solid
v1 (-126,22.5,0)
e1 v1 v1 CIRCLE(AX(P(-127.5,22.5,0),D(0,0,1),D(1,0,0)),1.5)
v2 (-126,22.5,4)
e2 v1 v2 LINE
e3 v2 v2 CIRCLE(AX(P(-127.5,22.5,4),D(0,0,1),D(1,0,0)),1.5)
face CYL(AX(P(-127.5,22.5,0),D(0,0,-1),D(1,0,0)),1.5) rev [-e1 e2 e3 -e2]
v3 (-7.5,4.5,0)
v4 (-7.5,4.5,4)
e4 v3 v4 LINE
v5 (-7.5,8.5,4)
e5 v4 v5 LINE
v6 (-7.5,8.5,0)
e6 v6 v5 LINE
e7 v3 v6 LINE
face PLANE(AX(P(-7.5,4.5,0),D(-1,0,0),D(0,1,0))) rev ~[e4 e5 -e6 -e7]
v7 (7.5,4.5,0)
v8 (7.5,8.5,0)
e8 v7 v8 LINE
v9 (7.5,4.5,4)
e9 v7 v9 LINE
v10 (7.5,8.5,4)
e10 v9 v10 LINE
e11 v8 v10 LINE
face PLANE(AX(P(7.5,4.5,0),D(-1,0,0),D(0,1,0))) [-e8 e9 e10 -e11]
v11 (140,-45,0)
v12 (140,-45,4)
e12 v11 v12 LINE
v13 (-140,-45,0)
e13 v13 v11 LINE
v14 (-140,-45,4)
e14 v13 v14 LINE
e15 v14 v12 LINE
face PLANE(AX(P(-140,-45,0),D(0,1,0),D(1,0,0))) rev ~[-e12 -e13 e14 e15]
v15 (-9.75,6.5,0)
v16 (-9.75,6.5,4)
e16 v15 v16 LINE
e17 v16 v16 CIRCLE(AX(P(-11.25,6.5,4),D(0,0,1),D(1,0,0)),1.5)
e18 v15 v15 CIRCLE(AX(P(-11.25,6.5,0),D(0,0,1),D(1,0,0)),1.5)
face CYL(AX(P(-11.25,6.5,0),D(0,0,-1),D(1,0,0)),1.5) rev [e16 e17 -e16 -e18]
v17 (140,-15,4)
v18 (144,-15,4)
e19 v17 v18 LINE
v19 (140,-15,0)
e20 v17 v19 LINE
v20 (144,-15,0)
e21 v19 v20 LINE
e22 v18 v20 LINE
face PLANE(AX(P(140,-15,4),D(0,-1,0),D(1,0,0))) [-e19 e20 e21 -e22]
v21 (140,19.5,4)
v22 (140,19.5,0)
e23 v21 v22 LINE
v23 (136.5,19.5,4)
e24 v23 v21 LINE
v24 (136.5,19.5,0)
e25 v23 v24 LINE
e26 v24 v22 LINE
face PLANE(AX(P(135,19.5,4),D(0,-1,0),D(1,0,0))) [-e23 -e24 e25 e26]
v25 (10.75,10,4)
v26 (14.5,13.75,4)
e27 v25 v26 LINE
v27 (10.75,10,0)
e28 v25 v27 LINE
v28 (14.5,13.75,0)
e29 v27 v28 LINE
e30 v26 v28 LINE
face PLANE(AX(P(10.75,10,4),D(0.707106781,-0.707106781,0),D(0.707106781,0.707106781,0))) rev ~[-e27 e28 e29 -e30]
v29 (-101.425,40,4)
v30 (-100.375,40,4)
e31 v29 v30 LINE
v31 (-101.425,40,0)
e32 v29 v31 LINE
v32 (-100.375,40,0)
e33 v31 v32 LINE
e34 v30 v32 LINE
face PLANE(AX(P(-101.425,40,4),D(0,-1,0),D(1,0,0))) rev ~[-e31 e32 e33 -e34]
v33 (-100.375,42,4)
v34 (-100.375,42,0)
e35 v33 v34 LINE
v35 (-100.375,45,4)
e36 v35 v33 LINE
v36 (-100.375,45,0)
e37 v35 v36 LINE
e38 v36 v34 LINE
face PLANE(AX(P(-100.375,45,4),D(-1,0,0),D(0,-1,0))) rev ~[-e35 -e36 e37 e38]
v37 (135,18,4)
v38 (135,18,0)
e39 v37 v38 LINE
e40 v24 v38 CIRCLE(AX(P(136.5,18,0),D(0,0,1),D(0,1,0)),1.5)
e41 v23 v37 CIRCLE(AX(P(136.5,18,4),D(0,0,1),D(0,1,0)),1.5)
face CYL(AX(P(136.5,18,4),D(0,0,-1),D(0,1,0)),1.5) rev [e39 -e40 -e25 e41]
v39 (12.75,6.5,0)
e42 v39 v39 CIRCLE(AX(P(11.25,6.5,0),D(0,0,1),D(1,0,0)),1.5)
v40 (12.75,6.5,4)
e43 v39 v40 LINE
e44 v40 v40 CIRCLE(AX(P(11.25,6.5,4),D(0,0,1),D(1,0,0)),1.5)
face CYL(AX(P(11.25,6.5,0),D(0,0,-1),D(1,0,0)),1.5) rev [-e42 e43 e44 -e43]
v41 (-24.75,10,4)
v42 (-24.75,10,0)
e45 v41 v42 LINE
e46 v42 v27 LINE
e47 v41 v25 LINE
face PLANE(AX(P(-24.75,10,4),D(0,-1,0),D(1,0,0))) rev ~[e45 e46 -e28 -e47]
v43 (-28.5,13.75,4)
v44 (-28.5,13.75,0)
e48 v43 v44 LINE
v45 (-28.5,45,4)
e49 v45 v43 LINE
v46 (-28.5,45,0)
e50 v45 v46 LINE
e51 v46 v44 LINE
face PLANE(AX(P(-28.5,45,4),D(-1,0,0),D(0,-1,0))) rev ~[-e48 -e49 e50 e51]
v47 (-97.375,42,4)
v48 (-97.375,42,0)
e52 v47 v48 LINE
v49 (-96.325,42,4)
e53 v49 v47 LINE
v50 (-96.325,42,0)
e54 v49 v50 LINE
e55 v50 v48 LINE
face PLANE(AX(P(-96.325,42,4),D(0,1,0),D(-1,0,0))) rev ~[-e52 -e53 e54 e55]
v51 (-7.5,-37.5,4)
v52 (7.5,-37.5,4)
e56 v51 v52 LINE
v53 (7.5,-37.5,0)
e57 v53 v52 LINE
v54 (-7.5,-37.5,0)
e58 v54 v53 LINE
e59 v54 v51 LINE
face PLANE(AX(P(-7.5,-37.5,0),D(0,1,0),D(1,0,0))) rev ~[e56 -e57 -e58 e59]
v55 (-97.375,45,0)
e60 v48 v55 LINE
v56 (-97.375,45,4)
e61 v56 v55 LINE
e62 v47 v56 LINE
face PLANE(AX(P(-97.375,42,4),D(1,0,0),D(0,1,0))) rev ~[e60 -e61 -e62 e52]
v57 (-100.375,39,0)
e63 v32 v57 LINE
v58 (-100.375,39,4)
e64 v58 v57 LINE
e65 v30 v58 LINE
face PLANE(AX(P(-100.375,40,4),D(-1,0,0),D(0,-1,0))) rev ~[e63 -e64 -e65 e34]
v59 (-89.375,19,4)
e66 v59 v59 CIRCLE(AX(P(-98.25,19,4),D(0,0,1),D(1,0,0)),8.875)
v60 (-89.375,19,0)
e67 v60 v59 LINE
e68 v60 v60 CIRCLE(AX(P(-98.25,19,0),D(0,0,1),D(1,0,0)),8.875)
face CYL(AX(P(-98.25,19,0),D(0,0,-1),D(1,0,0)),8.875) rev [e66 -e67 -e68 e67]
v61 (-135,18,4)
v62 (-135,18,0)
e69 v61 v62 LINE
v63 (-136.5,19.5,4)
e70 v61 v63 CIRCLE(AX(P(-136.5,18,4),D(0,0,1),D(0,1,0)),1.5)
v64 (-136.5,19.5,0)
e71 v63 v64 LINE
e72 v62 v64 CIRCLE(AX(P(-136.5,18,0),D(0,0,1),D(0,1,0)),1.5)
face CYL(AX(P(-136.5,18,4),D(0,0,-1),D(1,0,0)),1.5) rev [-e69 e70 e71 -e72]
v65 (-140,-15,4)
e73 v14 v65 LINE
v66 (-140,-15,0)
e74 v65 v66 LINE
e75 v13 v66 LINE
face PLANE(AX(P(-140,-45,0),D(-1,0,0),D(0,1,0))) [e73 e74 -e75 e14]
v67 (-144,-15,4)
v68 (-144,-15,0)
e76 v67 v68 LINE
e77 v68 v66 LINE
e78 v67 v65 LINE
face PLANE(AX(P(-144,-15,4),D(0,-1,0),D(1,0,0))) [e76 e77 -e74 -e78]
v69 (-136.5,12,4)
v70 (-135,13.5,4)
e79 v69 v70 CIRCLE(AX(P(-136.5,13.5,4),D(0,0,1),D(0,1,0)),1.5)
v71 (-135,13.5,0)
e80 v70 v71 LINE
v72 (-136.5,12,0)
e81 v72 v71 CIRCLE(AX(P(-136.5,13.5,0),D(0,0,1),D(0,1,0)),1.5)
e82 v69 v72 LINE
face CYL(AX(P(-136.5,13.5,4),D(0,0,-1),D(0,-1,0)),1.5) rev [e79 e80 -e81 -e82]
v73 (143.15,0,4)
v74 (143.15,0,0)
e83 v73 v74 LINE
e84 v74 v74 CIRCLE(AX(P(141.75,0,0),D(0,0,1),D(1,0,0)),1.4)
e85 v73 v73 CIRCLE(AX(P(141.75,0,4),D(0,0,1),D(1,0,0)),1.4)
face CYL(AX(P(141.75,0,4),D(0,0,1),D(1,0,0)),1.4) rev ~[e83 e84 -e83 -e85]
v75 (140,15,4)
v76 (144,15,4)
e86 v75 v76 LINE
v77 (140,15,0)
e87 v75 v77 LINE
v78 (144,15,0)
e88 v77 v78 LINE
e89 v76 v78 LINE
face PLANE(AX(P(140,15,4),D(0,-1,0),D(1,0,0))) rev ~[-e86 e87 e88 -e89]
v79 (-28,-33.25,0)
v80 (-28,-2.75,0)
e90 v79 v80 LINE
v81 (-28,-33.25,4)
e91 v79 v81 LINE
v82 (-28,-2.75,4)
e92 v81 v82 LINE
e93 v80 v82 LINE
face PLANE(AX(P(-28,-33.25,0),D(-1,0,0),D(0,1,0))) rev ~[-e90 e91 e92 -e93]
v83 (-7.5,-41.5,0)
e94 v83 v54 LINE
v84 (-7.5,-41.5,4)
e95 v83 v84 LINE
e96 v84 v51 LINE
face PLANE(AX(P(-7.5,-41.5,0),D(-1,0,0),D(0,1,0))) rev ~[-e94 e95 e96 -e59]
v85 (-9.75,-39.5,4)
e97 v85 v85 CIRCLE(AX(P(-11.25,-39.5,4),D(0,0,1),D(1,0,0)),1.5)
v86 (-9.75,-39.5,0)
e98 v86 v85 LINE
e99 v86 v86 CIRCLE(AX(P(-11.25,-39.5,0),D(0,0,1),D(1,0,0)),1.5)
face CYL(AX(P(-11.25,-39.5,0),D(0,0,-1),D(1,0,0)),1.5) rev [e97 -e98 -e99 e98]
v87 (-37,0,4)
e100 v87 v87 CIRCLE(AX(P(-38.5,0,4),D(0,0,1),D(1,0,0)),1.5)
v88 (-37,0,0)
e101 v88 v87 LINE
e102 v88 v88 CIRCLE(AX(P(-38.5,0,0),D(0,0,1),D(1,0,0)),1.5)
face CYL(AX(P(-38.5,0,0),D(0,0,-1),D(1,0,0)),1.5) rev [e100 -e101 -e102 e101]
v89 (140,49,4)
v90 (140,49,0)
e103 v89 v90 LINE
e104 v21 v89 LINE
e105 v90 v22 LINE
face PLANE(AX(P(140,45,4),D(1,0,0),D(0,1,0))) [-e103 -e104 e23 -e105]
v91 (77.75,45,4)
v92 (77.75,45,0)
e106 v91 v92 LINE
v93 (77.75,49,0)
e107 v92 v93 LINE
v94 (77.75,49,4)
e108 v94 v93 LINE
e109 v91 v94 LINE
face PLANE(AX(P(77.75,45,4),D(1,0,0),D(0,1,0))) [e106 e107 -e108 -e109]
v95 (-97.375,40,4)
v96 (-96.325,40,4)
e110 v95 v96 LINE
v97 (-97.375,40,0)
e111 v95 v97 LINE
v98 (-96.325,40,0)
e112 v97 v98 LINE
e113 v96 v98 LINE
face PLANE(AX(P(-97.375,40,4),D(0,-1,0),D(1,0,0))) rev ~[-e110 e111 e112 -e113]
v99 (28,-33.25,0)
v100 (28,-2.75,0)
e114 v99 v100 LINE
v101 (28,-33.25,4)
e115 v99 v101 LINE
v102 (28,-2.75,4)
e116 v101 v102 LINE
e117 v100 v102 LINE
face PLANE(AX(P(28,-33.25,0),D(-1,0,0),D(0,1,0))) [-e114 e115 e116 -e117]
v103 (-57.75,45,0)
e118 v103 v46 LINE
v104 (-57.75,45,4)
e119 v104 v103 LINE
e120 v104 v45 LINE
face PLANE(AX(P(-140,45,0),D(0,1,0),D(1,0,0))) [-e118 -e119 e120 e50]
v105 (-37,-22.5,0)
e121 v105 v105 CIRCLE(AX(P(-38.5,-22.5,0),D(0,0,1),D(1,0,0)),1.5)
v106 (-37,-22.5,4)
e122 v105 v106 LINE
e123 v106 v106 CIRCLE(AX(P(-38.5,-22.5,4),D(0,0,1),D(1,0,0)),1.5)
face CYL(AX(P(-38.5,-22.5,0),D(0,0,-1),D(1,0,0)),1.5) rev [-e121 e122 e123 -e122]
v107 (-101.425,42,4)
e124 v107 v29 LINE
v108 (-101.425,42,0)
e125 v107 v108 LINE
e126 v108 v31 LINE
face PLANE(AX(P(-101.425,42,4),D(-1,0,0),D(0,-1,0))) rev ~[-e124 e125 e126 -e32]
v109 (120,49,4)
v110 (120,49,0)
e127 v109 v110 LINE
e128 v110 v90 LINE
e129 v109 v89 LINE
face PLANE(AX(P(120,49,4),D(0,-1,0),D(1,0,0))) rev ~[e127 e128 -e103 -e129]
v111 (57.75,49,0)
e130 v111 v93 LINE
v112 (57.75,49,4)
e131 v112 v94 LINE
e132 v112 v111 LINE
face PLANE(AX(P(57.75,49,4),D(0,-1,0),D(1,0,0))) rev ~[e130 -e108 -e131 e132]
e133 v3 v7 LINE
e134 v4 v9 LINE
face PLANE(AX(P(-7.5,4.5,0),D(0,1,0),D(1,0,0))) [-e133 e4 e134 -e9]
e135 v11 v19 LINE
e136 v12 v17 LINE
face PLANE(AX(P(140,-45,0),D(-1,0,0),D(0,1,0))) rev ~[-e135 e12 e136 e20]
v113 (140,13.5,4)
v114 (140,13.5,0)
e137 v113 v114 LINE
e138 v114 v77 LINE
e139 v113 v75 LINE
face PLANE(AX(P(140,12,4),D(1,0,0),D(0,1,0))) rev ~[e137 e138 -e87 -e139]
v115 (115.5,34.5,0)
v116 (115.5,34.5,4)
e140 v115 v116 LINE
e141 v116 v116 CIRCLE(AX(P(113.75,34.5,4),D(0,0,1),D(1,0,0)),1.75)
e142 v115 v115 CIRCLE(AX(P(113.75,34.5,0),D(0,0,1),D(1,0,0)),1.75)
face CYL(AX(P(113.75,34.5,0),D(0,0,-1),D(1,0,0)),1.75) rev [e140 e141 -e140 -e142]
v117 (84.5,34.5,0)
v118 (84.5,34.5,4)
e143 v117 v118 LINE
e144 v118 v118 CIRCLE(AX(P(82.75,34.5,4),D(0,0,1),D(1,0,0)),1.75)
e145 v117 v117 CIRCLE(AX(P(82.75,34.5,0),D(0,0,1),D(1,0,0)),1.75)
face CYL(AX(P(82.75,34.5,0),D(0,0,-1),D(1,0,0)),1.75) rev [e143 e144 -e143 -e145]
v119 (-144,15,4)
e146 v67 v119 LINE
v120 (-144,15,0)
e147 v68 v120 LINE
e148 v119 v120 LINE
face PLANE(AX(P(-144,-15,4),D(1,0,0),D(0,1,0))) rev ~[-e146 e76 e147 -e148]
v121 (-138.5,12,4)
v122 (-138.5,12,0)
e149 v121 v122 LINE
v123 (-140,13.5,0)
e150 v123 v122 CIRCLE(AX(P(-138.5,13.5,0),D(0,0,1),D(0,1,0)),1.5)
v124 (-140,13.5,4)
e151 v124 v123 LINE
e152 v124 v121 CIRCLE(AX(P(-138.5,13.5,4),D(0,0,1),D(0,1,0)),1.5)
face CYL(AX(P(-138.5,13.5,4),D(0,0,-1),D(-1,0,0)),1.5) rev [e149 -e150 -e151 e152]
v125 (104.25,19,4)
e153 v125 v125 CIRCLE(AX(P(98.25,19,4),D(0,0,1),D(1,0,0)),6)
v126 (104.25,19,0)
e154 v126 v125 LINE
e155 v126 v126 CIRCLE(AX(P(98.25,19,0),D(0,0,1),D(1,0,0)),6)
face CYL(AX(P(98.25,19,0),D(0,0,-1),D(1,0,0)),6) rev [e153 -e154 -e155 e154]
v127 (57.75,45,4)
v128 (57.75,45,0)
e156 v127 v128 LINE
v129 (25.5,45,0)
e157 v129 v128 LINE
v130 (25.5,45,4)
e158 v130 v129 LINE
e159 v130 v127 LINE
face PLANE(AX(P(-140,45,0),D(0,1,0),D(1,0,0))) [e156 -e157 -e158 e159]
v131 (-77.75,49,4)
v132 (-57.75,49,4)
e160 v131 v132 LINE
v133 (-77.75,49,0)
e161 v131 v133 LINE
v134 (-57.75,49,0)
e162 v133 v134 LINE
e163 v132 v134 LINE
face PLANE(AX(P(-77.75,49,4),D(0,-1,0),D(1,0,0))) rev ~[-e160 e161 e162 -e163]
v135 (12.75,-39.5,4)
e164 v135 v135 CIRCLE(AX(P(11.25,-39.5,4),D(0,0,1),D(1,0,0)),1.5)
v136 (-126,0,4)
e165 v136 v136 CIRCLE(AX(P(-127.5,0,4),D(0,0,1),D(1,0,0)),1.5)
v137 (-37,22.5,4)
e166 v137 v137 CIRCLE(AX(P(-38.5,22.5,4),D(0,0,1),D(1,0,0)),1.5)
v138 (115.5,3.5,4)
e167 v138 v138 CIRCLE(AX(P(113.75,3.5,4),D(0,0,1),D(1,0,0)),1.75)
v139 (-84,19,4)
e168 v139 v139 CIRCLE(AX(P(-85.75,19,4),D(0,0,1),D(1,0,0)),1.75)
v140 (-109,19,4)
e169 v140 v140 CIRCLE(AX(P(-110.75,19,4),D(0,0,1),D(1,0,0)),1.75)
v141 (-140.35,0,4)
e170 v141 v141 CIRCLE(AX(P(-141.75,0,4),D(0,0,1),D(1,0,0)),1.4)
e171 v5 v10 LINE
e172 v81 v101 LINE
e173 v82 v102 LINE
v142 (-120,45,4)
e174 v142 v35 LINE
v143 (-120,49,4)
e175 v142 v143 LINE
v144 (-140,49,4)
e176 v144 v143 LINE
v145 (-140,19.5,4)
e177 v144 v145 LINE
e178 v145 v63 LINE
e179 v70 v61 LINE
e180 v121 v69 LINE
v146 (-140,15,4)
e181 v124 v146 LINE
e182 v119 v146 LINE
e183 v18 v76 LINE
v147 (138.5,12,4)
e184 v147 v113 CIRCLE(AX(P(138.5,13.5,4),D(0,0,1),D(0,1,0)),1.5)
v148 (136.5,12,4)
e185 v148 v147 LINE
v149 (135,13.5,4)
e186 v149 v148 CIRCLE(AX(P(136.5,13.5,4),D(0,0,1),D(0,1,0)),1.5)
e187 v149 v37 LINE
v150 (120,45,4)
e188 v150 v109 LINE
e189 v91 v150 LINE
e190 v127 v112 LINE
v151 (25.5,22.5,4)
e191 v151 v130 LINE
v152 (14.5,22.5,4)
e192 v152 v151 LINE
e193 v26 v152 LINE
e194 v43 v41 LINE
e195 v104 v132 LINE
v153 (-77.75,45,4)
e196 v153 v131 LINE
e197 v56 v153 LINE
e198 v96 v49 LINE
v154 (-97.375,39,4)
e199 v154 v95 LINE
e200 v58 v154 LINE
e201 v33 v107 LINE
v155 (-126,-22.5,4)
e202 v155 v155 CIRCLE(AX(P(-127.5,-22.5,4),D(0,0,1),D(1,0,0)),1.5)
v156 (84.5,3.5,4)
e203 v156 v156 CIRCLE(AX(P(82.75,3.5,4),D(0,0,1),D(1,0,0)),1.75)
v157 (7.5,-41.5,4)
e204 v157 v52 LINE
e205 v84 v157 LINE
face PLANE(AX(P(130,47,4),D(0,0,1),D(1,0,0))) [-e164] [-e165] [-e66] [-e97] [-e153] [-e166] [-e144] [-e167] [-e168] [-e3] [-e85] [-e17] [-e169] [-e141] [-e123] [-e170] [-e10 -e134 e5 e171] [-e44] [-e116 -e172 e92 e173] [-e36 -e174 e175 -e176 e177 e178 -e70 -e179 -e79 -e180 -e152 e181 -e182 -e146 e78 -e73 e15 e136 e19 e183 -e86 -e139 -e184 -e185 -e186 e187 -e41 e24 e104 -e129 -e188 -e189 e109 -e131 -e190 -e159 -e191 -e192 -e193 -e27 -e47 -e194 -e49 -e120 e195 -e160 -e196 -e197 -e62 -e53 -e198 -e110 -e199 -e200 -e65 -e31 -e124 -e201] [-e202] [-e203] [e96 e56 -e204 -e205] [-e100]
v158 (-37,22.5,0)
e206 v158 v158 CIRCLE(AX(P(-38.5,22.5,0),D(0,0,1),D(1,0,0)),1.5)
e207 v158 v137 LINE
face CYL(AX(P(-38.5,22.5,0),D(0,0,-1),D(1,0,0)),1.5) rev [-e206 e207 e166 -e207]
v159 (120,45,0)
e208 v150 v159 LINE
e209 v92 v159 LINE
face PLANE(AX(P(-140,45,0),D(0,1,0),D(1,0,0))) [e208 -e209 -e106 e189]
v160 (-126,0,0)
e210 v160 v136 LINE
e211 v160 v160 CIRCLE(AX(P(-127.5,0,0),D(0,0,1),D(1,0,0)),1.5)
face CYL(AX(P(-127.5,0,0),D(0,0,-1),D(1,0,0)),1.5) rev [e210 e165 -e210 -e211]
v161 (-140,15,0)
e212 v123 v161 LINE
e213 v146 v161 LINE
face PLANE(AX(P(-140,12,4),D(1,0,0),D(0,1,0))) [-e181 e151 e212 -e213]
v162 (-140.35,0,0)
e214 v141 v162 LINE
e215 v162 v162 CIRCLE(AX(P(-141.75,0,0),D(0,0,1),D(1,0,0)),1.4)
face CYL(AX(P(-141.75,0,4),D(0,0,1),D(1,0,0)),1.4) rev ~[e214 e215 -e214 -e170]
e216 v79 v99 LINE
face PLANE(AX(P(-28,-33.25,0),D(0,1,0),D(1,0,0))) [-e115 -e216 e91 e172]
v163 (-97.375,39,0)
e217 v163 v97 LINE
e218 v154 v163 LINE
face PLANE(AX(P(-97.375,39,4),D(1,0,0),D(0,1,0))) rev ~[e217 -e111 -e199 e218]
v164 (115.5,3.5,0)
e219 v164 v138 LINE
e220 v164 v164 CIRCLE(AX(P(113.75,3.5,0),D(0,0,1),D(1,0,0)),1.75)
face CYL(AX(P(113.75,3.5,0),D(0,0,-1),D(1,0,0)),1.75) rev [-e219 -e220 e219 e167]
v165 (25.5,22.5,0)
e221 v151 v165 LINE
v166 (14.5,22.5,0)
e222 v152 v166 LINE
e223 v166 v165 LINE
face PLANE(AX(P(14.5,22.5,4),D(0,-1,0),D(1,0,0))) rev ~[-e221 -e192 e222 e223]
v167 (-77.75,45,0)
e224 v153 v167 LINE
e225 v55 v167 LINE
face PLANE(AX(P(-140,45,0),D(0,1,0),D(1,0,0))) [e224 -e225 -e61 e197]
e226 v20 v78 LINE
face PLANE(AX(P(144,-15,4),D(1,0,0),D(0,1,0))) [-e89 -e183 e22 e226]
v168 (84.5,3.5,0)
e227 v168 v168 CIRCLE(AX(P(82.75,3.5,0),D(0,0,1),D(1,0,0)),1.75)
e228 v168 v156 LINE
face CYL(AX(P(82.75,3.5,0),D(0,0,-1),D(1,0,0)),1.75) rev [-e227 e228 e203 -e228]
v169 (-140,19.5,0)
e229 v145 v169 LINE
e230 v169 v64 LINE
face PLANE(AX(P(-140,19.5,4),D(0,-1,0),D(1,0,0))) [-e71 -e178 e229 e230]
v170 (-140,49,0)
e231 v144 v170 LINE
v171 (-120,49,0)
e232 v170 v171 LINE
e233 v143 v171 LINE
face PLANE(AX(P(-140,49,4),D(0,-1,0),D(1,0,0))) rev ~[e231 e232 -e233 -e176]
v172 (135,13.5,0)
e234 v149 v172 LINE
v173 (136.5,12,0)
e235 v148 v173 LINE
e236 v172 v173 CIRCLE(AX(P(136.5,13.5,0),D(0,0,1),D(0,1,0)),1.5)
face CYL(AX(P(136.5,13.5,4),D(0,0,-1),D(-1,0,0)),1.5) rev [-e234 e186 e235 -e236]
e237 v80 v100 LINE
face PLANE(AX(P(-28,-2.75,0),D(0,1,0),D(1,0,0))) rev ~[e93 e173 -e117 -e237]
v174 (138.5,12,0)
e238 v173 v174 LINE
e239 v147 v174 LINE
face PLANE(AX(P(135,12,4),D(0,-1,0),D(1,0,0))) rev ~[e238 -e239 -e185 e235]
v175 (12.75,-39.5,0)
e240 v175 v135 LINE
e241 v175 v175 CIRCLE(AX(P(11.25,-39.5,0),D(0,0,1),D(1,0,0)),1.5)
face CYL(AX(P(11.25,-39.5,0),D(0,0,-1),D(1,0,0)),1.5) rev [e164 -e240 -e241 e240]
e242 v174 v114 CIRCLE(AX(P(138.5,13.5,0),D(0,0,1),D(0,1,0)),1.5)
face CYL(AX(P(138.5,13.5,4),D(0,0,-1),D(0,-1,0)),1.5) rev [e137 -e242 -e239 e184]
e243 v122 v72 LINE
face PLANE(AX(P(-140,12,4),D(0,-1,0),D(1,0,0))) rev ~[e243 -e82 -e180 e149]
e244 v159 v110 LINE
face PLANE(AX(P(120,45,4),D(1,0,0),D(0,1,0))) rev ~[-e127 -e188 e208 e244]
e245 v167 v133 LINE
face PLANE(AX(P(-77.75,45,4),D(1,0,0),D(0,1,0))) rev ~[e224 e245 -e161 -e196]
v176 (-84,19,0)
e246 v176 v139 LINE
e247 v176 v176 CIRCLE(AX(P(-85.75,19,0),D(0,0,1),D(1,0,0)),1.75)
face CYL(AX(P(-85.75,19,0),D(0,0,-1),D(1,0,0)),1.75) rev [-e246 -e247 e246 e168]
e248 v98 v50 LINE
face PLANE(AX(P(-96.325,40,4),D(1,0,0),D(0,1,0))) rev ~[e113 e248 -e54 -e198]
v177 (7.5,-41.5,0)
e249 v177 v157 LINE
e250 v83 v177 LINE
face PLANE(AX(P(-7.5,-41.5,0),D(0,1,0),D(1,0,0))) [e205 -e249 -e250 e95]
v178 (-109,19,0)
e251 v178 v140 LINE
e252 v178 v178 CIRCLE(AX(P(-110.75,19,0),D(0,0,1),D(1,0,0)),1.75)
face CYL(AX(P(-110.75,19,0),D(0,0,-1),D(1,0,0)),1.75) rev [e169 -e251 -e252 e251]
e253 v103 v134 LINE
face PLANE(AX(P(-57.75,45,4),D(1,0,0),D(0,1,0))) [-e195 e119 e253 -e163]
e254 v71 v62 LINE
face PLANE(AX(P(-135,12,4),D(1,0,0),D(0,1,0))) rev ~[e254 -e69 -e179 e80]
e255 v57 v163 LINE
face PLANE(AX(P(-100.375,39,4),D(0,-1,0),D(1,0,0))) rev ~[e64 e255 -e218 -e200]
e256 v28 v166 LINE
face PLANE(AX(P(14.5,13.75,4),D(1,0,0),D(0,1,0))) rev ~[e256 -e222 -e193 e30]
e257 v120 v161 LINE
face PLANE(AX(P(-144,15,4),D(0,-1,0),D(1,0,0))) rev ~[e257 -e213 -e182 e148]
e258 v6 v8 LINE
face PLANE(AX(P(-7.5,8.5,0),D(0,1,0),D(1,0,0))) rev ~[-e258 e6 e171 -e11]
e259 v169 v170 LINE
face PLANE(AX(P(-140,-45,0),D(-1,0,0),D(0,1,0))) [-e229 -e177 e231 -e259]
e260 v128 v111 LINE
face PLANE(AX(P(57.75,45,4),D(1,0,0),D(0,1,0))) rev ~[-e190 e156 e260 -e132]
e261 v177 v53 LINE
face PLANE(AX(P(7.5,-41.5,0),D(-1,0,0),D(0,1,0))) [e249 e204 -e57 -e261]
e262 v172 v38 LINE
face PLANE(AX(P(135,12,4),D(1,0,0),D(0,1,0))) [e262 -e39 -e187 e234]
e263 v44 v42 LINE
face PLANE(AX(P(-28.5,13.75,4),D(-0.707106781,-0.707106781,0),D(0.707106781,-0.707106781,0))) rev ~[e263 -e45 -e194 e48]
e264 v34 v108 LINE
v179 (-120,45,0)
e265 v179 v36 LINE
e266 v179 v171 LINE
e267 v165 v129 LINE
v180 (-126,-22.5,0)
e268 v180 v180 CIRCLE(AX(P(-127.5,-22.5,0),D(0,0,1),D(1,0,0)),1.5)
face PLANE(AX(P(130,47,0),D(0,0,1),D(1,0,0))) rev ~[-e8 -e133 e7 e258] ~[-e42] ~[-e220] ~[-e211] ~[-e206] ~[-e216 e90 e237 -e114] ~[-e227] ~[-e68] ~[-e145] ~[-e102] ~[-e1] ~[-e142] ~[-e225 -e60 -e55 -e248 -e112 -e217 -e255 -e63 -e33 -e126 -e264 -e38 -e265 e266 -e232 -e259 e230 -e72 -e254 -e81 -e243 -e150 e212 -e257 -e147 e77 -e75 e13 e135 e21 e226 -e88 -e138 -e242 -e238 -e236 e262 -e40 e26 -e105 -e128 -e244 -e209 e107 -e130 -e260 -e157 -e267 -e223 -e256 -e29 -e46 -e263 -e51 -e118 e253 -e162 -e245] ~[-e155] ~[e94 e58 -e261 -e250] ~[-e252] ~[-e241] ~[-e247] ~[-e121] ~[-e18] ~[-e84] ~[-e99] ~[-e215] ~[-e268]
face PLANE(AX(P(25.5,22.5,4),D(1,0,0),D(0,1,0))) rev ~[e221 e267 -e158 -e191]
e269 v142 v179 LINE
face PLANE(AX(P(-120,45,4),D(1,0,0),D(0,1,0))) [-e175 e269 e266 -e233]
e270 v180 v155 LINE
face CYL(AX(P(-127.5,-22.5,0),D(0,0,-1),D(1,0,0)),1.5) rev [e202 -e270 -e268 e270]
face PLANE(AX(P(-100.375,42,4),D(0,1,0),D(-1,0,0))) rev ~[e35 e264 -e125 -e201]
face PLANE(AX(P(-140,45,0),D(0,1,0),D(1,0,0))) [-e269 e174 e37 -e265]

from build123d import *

# Parameters (mm, degrees)
SKETCH_1_W          = 280
SKETCH_1_H          = 90
SKETCH_1_R          = 1.5
SKETCH_1_R_2        = 1.75
SKETCH_1_R_3        = 6
SKETCH_1_R_4        = 8.875
SKETCH_1_W_2        = 15
SKETCH_1_H_2        = 4
SKETCH_1_W_3        = 56
SKETCH_1_H_3        = 30.5
EXTRUDE_1_DEPTH     = 4
SKETCH_2_W          = 20
SKETCH_2_H          = 4
SKETCH_2_W_2        = 4
SKETCH_2_H_2        = 30
SKETCH_2_R          = 1.4
EXTRUDE_2_DEPTH     = 4
SKETCH_3_W          = 5
SKETCH_3_H          = 7.5
CUT_EXTRUDE_1_DEPTH = 153.161098839
FILLET_1_R          = 1.5


with BuildPart() as part:
    # Эскиз1 → Бобышка-Вытянуть1 (new body)
    with BuildSketch(Plane.XY):
        Rectangle(SKETCH_1_W, SKETCH_1_H)
        with Locations((11.25, 6.5)):
            Circle(SKETCH_1_R, mode=Mode.SUBTRACT)
        with Locations((-11.25, 6.5)):
            Circle(SKETCH_1_R, mode=Mode.SUBTRACT)
        with Locations((-11.25, -39.5)):
            Circle(SKETCH_1_R, mode=Mode.SUBTRACT)
        with Locations((11.25, -39.5)):
            Circle(SKETCH_1_R, mode=Mode.SUBTRACT)
        with Locations((113.75, 34.5)):
            Circle(SKETCH_1_R_2, mode=Mode.SUBTRACT)
        with Locations((98.25, 19)):
            Circle(SKETCH_1_R_3, mode=Mode.SUBTRACT)
        with Locations((-98.25, 19)):
            Circle(SKETCH_1_R_4, mode=Mode.SUBTRACT)
        with Locations((113.75, 3.5)):
            Circle(SKETCH_1_R_2, mode=Mode.SUBTRACT)
        with Locations((82.75, 3.5)):
            Circle(SKETCH_1_R_2, mode=Mode.SUBTRACT)
        with Locations((82.75, 34.5)):
            Circle(SKETCH_1_R_2, mode=Mode.SUBTRACT)
        with Locations((-110.75, 19)):
            Circle(SKETCH_1_R_2, mode=Mode.SUBTRACT)
        with Locations((-85.75, 19)):
            Circle(SKETCH_1_R_2, mode=Mode.SUBTRACT)
        with Locations((-127.5, 22.5)):
            Circle(SKETCH_1_R, mode=Mode.SUBTRACT)
        with Locations((-127.5, 0)):
            Circle(SKETCH_1_R, mode=Mode.SUBTRACT)
        with Locations((-127.5, -22.5)):
            Circle(SKETCH_1_R, mode=Mode.SUBTRACT)
        with Locations((-38.5, 22.5)):
            Circle(SKETCH_1_R, mode=Mode.SUBTRACT)
        with Locations((-38.5, 0)):
            Circle(SKETCH_1_R, mode=Mode.SUBTRACT)
        with Locations((-38.5, -22.5)):
            Circle(SKETCH_1_R, mode=Mode.SUBTRACT)
        with Locations((0, -39.5)):
            Rectangle(SKETCH_1_W_2, SKETCH_1_H_2, mode=Mode.SUBTRACT)
        with Locations((0, 6.5)):
            Rectangle(SKETCH_1_W_2, SKETCH_1_H_2, mode=Mode.SUBTRACT)
        with Locations((0, -18)):
            Rectangle(SKETCH_1_W_3, SKETCH_1_H_3, mode=Mode.SUBTRACT)
    extrude(amount=EXTRUDE_1_DEPTH)

    # Эскиз2 → Бобышка-Вытянуть2 (add, through all)
    # profile 1 of 6: a face of its own
    with BuildSketch(Plane.XY.offset(4)):
        with Locations((130, 47)):
            Rectangle(SKETCH_2_W, SKETCH_2_H)
    # profile 2 of 6: a face of its own
    with BuildSketch(Plane.XY.offset(4)):
        with Locations((142, 0)):
            Rectangle(SKETCH_2_W_2, SKETCH_2_H_2)
        with Locations((141.75, 0)):
            Circle(SKETCH_2_R, mode=Mode.SUBTRACT)
    # profile 3 of 6: a face of its own
    with BuildSketch(Plane.XY.offset(4)):
        with Locations((-130, 47)):
            Rectangle(SKETCH_2_W, SKETCH_2_H)
    # profile 4 of 6: a face of its own
    with BuildSketch(Plane.XY.offset(4)):
        with Locations((-142, 0)):
            Rectangle(SKETCH_2_W_2, SKETCH_2_H_2)
        with Locations((-141.75, 0)):
            Circle(SKETCH_2_R, mode=Mode.SUBTRACT)
    # profile 5 of 6: a face of its own
    with BuildSketch(Plane.XY.offset(4)):
        with Locations((67.75, 47)):
            Rectangle(SKETCH_2_W, SKETCH_2_H)
    # profile 6 of 6: a face of its own
    with BuildSketch(Plane.XY.offset(4)):
        with Locations((-67.75, 47)):
            Rectangle(SKETCH_2_W, SKETCH_2_H)
    extrude(amount=-EXTRUDE_2_DEPTH)

    # Эскиз3 → Вырез-Вытянуть1 (cut, through all)
    with BuildSketch(Plane.XY.offset(4)):
        Polygon((14.5, 45), (14.5, 49), (-20.75, 49), (-20.75, 45), (-28.5, 45), (-28.5, 13.75), (-24.75, 10), (10.75, 10), (14.5, 13.75), (14.5, 22.5), (25.5, 22.5), (25.5, 45), align=None)
        Polygon((-97.375, 42), (-97.375, 45), (-100.375, 45), (-100.375, 42), (-101.425, 42), (-101.425, 40), (-100.375, 40), (-100.375, 39), (-97.375, 39), (-97.375, 40), (-96.325, 40), (-96.325, 42), align=None)
        with Locations((137.5, 15.75)):
            Rectangle(SKETCH_3_W, SKETCH_3_H)
        with Locations((-137.5, 15.75)):
            Rectangle(SKETCH_3_W, SKETCH_3_H)
    extrude(amount=-CUT_EXTRUDE_1_DEPTH, mode=Mode.SUBTRACT)

    # Скругление1
    fillet_1_edges = [part.edges().sort_by_distance(p)[0] for p in [
        (140, 12, 2),
        (135, 12, 2),
        (135, 19.5, 2),
        (-135, 12, 2),
        (-140, 12, 2),
        (-135, 19.5, 2),
    ]]
    fillet(fillet_1_edges, radius=FILLET_1_R)


solid = part.part
